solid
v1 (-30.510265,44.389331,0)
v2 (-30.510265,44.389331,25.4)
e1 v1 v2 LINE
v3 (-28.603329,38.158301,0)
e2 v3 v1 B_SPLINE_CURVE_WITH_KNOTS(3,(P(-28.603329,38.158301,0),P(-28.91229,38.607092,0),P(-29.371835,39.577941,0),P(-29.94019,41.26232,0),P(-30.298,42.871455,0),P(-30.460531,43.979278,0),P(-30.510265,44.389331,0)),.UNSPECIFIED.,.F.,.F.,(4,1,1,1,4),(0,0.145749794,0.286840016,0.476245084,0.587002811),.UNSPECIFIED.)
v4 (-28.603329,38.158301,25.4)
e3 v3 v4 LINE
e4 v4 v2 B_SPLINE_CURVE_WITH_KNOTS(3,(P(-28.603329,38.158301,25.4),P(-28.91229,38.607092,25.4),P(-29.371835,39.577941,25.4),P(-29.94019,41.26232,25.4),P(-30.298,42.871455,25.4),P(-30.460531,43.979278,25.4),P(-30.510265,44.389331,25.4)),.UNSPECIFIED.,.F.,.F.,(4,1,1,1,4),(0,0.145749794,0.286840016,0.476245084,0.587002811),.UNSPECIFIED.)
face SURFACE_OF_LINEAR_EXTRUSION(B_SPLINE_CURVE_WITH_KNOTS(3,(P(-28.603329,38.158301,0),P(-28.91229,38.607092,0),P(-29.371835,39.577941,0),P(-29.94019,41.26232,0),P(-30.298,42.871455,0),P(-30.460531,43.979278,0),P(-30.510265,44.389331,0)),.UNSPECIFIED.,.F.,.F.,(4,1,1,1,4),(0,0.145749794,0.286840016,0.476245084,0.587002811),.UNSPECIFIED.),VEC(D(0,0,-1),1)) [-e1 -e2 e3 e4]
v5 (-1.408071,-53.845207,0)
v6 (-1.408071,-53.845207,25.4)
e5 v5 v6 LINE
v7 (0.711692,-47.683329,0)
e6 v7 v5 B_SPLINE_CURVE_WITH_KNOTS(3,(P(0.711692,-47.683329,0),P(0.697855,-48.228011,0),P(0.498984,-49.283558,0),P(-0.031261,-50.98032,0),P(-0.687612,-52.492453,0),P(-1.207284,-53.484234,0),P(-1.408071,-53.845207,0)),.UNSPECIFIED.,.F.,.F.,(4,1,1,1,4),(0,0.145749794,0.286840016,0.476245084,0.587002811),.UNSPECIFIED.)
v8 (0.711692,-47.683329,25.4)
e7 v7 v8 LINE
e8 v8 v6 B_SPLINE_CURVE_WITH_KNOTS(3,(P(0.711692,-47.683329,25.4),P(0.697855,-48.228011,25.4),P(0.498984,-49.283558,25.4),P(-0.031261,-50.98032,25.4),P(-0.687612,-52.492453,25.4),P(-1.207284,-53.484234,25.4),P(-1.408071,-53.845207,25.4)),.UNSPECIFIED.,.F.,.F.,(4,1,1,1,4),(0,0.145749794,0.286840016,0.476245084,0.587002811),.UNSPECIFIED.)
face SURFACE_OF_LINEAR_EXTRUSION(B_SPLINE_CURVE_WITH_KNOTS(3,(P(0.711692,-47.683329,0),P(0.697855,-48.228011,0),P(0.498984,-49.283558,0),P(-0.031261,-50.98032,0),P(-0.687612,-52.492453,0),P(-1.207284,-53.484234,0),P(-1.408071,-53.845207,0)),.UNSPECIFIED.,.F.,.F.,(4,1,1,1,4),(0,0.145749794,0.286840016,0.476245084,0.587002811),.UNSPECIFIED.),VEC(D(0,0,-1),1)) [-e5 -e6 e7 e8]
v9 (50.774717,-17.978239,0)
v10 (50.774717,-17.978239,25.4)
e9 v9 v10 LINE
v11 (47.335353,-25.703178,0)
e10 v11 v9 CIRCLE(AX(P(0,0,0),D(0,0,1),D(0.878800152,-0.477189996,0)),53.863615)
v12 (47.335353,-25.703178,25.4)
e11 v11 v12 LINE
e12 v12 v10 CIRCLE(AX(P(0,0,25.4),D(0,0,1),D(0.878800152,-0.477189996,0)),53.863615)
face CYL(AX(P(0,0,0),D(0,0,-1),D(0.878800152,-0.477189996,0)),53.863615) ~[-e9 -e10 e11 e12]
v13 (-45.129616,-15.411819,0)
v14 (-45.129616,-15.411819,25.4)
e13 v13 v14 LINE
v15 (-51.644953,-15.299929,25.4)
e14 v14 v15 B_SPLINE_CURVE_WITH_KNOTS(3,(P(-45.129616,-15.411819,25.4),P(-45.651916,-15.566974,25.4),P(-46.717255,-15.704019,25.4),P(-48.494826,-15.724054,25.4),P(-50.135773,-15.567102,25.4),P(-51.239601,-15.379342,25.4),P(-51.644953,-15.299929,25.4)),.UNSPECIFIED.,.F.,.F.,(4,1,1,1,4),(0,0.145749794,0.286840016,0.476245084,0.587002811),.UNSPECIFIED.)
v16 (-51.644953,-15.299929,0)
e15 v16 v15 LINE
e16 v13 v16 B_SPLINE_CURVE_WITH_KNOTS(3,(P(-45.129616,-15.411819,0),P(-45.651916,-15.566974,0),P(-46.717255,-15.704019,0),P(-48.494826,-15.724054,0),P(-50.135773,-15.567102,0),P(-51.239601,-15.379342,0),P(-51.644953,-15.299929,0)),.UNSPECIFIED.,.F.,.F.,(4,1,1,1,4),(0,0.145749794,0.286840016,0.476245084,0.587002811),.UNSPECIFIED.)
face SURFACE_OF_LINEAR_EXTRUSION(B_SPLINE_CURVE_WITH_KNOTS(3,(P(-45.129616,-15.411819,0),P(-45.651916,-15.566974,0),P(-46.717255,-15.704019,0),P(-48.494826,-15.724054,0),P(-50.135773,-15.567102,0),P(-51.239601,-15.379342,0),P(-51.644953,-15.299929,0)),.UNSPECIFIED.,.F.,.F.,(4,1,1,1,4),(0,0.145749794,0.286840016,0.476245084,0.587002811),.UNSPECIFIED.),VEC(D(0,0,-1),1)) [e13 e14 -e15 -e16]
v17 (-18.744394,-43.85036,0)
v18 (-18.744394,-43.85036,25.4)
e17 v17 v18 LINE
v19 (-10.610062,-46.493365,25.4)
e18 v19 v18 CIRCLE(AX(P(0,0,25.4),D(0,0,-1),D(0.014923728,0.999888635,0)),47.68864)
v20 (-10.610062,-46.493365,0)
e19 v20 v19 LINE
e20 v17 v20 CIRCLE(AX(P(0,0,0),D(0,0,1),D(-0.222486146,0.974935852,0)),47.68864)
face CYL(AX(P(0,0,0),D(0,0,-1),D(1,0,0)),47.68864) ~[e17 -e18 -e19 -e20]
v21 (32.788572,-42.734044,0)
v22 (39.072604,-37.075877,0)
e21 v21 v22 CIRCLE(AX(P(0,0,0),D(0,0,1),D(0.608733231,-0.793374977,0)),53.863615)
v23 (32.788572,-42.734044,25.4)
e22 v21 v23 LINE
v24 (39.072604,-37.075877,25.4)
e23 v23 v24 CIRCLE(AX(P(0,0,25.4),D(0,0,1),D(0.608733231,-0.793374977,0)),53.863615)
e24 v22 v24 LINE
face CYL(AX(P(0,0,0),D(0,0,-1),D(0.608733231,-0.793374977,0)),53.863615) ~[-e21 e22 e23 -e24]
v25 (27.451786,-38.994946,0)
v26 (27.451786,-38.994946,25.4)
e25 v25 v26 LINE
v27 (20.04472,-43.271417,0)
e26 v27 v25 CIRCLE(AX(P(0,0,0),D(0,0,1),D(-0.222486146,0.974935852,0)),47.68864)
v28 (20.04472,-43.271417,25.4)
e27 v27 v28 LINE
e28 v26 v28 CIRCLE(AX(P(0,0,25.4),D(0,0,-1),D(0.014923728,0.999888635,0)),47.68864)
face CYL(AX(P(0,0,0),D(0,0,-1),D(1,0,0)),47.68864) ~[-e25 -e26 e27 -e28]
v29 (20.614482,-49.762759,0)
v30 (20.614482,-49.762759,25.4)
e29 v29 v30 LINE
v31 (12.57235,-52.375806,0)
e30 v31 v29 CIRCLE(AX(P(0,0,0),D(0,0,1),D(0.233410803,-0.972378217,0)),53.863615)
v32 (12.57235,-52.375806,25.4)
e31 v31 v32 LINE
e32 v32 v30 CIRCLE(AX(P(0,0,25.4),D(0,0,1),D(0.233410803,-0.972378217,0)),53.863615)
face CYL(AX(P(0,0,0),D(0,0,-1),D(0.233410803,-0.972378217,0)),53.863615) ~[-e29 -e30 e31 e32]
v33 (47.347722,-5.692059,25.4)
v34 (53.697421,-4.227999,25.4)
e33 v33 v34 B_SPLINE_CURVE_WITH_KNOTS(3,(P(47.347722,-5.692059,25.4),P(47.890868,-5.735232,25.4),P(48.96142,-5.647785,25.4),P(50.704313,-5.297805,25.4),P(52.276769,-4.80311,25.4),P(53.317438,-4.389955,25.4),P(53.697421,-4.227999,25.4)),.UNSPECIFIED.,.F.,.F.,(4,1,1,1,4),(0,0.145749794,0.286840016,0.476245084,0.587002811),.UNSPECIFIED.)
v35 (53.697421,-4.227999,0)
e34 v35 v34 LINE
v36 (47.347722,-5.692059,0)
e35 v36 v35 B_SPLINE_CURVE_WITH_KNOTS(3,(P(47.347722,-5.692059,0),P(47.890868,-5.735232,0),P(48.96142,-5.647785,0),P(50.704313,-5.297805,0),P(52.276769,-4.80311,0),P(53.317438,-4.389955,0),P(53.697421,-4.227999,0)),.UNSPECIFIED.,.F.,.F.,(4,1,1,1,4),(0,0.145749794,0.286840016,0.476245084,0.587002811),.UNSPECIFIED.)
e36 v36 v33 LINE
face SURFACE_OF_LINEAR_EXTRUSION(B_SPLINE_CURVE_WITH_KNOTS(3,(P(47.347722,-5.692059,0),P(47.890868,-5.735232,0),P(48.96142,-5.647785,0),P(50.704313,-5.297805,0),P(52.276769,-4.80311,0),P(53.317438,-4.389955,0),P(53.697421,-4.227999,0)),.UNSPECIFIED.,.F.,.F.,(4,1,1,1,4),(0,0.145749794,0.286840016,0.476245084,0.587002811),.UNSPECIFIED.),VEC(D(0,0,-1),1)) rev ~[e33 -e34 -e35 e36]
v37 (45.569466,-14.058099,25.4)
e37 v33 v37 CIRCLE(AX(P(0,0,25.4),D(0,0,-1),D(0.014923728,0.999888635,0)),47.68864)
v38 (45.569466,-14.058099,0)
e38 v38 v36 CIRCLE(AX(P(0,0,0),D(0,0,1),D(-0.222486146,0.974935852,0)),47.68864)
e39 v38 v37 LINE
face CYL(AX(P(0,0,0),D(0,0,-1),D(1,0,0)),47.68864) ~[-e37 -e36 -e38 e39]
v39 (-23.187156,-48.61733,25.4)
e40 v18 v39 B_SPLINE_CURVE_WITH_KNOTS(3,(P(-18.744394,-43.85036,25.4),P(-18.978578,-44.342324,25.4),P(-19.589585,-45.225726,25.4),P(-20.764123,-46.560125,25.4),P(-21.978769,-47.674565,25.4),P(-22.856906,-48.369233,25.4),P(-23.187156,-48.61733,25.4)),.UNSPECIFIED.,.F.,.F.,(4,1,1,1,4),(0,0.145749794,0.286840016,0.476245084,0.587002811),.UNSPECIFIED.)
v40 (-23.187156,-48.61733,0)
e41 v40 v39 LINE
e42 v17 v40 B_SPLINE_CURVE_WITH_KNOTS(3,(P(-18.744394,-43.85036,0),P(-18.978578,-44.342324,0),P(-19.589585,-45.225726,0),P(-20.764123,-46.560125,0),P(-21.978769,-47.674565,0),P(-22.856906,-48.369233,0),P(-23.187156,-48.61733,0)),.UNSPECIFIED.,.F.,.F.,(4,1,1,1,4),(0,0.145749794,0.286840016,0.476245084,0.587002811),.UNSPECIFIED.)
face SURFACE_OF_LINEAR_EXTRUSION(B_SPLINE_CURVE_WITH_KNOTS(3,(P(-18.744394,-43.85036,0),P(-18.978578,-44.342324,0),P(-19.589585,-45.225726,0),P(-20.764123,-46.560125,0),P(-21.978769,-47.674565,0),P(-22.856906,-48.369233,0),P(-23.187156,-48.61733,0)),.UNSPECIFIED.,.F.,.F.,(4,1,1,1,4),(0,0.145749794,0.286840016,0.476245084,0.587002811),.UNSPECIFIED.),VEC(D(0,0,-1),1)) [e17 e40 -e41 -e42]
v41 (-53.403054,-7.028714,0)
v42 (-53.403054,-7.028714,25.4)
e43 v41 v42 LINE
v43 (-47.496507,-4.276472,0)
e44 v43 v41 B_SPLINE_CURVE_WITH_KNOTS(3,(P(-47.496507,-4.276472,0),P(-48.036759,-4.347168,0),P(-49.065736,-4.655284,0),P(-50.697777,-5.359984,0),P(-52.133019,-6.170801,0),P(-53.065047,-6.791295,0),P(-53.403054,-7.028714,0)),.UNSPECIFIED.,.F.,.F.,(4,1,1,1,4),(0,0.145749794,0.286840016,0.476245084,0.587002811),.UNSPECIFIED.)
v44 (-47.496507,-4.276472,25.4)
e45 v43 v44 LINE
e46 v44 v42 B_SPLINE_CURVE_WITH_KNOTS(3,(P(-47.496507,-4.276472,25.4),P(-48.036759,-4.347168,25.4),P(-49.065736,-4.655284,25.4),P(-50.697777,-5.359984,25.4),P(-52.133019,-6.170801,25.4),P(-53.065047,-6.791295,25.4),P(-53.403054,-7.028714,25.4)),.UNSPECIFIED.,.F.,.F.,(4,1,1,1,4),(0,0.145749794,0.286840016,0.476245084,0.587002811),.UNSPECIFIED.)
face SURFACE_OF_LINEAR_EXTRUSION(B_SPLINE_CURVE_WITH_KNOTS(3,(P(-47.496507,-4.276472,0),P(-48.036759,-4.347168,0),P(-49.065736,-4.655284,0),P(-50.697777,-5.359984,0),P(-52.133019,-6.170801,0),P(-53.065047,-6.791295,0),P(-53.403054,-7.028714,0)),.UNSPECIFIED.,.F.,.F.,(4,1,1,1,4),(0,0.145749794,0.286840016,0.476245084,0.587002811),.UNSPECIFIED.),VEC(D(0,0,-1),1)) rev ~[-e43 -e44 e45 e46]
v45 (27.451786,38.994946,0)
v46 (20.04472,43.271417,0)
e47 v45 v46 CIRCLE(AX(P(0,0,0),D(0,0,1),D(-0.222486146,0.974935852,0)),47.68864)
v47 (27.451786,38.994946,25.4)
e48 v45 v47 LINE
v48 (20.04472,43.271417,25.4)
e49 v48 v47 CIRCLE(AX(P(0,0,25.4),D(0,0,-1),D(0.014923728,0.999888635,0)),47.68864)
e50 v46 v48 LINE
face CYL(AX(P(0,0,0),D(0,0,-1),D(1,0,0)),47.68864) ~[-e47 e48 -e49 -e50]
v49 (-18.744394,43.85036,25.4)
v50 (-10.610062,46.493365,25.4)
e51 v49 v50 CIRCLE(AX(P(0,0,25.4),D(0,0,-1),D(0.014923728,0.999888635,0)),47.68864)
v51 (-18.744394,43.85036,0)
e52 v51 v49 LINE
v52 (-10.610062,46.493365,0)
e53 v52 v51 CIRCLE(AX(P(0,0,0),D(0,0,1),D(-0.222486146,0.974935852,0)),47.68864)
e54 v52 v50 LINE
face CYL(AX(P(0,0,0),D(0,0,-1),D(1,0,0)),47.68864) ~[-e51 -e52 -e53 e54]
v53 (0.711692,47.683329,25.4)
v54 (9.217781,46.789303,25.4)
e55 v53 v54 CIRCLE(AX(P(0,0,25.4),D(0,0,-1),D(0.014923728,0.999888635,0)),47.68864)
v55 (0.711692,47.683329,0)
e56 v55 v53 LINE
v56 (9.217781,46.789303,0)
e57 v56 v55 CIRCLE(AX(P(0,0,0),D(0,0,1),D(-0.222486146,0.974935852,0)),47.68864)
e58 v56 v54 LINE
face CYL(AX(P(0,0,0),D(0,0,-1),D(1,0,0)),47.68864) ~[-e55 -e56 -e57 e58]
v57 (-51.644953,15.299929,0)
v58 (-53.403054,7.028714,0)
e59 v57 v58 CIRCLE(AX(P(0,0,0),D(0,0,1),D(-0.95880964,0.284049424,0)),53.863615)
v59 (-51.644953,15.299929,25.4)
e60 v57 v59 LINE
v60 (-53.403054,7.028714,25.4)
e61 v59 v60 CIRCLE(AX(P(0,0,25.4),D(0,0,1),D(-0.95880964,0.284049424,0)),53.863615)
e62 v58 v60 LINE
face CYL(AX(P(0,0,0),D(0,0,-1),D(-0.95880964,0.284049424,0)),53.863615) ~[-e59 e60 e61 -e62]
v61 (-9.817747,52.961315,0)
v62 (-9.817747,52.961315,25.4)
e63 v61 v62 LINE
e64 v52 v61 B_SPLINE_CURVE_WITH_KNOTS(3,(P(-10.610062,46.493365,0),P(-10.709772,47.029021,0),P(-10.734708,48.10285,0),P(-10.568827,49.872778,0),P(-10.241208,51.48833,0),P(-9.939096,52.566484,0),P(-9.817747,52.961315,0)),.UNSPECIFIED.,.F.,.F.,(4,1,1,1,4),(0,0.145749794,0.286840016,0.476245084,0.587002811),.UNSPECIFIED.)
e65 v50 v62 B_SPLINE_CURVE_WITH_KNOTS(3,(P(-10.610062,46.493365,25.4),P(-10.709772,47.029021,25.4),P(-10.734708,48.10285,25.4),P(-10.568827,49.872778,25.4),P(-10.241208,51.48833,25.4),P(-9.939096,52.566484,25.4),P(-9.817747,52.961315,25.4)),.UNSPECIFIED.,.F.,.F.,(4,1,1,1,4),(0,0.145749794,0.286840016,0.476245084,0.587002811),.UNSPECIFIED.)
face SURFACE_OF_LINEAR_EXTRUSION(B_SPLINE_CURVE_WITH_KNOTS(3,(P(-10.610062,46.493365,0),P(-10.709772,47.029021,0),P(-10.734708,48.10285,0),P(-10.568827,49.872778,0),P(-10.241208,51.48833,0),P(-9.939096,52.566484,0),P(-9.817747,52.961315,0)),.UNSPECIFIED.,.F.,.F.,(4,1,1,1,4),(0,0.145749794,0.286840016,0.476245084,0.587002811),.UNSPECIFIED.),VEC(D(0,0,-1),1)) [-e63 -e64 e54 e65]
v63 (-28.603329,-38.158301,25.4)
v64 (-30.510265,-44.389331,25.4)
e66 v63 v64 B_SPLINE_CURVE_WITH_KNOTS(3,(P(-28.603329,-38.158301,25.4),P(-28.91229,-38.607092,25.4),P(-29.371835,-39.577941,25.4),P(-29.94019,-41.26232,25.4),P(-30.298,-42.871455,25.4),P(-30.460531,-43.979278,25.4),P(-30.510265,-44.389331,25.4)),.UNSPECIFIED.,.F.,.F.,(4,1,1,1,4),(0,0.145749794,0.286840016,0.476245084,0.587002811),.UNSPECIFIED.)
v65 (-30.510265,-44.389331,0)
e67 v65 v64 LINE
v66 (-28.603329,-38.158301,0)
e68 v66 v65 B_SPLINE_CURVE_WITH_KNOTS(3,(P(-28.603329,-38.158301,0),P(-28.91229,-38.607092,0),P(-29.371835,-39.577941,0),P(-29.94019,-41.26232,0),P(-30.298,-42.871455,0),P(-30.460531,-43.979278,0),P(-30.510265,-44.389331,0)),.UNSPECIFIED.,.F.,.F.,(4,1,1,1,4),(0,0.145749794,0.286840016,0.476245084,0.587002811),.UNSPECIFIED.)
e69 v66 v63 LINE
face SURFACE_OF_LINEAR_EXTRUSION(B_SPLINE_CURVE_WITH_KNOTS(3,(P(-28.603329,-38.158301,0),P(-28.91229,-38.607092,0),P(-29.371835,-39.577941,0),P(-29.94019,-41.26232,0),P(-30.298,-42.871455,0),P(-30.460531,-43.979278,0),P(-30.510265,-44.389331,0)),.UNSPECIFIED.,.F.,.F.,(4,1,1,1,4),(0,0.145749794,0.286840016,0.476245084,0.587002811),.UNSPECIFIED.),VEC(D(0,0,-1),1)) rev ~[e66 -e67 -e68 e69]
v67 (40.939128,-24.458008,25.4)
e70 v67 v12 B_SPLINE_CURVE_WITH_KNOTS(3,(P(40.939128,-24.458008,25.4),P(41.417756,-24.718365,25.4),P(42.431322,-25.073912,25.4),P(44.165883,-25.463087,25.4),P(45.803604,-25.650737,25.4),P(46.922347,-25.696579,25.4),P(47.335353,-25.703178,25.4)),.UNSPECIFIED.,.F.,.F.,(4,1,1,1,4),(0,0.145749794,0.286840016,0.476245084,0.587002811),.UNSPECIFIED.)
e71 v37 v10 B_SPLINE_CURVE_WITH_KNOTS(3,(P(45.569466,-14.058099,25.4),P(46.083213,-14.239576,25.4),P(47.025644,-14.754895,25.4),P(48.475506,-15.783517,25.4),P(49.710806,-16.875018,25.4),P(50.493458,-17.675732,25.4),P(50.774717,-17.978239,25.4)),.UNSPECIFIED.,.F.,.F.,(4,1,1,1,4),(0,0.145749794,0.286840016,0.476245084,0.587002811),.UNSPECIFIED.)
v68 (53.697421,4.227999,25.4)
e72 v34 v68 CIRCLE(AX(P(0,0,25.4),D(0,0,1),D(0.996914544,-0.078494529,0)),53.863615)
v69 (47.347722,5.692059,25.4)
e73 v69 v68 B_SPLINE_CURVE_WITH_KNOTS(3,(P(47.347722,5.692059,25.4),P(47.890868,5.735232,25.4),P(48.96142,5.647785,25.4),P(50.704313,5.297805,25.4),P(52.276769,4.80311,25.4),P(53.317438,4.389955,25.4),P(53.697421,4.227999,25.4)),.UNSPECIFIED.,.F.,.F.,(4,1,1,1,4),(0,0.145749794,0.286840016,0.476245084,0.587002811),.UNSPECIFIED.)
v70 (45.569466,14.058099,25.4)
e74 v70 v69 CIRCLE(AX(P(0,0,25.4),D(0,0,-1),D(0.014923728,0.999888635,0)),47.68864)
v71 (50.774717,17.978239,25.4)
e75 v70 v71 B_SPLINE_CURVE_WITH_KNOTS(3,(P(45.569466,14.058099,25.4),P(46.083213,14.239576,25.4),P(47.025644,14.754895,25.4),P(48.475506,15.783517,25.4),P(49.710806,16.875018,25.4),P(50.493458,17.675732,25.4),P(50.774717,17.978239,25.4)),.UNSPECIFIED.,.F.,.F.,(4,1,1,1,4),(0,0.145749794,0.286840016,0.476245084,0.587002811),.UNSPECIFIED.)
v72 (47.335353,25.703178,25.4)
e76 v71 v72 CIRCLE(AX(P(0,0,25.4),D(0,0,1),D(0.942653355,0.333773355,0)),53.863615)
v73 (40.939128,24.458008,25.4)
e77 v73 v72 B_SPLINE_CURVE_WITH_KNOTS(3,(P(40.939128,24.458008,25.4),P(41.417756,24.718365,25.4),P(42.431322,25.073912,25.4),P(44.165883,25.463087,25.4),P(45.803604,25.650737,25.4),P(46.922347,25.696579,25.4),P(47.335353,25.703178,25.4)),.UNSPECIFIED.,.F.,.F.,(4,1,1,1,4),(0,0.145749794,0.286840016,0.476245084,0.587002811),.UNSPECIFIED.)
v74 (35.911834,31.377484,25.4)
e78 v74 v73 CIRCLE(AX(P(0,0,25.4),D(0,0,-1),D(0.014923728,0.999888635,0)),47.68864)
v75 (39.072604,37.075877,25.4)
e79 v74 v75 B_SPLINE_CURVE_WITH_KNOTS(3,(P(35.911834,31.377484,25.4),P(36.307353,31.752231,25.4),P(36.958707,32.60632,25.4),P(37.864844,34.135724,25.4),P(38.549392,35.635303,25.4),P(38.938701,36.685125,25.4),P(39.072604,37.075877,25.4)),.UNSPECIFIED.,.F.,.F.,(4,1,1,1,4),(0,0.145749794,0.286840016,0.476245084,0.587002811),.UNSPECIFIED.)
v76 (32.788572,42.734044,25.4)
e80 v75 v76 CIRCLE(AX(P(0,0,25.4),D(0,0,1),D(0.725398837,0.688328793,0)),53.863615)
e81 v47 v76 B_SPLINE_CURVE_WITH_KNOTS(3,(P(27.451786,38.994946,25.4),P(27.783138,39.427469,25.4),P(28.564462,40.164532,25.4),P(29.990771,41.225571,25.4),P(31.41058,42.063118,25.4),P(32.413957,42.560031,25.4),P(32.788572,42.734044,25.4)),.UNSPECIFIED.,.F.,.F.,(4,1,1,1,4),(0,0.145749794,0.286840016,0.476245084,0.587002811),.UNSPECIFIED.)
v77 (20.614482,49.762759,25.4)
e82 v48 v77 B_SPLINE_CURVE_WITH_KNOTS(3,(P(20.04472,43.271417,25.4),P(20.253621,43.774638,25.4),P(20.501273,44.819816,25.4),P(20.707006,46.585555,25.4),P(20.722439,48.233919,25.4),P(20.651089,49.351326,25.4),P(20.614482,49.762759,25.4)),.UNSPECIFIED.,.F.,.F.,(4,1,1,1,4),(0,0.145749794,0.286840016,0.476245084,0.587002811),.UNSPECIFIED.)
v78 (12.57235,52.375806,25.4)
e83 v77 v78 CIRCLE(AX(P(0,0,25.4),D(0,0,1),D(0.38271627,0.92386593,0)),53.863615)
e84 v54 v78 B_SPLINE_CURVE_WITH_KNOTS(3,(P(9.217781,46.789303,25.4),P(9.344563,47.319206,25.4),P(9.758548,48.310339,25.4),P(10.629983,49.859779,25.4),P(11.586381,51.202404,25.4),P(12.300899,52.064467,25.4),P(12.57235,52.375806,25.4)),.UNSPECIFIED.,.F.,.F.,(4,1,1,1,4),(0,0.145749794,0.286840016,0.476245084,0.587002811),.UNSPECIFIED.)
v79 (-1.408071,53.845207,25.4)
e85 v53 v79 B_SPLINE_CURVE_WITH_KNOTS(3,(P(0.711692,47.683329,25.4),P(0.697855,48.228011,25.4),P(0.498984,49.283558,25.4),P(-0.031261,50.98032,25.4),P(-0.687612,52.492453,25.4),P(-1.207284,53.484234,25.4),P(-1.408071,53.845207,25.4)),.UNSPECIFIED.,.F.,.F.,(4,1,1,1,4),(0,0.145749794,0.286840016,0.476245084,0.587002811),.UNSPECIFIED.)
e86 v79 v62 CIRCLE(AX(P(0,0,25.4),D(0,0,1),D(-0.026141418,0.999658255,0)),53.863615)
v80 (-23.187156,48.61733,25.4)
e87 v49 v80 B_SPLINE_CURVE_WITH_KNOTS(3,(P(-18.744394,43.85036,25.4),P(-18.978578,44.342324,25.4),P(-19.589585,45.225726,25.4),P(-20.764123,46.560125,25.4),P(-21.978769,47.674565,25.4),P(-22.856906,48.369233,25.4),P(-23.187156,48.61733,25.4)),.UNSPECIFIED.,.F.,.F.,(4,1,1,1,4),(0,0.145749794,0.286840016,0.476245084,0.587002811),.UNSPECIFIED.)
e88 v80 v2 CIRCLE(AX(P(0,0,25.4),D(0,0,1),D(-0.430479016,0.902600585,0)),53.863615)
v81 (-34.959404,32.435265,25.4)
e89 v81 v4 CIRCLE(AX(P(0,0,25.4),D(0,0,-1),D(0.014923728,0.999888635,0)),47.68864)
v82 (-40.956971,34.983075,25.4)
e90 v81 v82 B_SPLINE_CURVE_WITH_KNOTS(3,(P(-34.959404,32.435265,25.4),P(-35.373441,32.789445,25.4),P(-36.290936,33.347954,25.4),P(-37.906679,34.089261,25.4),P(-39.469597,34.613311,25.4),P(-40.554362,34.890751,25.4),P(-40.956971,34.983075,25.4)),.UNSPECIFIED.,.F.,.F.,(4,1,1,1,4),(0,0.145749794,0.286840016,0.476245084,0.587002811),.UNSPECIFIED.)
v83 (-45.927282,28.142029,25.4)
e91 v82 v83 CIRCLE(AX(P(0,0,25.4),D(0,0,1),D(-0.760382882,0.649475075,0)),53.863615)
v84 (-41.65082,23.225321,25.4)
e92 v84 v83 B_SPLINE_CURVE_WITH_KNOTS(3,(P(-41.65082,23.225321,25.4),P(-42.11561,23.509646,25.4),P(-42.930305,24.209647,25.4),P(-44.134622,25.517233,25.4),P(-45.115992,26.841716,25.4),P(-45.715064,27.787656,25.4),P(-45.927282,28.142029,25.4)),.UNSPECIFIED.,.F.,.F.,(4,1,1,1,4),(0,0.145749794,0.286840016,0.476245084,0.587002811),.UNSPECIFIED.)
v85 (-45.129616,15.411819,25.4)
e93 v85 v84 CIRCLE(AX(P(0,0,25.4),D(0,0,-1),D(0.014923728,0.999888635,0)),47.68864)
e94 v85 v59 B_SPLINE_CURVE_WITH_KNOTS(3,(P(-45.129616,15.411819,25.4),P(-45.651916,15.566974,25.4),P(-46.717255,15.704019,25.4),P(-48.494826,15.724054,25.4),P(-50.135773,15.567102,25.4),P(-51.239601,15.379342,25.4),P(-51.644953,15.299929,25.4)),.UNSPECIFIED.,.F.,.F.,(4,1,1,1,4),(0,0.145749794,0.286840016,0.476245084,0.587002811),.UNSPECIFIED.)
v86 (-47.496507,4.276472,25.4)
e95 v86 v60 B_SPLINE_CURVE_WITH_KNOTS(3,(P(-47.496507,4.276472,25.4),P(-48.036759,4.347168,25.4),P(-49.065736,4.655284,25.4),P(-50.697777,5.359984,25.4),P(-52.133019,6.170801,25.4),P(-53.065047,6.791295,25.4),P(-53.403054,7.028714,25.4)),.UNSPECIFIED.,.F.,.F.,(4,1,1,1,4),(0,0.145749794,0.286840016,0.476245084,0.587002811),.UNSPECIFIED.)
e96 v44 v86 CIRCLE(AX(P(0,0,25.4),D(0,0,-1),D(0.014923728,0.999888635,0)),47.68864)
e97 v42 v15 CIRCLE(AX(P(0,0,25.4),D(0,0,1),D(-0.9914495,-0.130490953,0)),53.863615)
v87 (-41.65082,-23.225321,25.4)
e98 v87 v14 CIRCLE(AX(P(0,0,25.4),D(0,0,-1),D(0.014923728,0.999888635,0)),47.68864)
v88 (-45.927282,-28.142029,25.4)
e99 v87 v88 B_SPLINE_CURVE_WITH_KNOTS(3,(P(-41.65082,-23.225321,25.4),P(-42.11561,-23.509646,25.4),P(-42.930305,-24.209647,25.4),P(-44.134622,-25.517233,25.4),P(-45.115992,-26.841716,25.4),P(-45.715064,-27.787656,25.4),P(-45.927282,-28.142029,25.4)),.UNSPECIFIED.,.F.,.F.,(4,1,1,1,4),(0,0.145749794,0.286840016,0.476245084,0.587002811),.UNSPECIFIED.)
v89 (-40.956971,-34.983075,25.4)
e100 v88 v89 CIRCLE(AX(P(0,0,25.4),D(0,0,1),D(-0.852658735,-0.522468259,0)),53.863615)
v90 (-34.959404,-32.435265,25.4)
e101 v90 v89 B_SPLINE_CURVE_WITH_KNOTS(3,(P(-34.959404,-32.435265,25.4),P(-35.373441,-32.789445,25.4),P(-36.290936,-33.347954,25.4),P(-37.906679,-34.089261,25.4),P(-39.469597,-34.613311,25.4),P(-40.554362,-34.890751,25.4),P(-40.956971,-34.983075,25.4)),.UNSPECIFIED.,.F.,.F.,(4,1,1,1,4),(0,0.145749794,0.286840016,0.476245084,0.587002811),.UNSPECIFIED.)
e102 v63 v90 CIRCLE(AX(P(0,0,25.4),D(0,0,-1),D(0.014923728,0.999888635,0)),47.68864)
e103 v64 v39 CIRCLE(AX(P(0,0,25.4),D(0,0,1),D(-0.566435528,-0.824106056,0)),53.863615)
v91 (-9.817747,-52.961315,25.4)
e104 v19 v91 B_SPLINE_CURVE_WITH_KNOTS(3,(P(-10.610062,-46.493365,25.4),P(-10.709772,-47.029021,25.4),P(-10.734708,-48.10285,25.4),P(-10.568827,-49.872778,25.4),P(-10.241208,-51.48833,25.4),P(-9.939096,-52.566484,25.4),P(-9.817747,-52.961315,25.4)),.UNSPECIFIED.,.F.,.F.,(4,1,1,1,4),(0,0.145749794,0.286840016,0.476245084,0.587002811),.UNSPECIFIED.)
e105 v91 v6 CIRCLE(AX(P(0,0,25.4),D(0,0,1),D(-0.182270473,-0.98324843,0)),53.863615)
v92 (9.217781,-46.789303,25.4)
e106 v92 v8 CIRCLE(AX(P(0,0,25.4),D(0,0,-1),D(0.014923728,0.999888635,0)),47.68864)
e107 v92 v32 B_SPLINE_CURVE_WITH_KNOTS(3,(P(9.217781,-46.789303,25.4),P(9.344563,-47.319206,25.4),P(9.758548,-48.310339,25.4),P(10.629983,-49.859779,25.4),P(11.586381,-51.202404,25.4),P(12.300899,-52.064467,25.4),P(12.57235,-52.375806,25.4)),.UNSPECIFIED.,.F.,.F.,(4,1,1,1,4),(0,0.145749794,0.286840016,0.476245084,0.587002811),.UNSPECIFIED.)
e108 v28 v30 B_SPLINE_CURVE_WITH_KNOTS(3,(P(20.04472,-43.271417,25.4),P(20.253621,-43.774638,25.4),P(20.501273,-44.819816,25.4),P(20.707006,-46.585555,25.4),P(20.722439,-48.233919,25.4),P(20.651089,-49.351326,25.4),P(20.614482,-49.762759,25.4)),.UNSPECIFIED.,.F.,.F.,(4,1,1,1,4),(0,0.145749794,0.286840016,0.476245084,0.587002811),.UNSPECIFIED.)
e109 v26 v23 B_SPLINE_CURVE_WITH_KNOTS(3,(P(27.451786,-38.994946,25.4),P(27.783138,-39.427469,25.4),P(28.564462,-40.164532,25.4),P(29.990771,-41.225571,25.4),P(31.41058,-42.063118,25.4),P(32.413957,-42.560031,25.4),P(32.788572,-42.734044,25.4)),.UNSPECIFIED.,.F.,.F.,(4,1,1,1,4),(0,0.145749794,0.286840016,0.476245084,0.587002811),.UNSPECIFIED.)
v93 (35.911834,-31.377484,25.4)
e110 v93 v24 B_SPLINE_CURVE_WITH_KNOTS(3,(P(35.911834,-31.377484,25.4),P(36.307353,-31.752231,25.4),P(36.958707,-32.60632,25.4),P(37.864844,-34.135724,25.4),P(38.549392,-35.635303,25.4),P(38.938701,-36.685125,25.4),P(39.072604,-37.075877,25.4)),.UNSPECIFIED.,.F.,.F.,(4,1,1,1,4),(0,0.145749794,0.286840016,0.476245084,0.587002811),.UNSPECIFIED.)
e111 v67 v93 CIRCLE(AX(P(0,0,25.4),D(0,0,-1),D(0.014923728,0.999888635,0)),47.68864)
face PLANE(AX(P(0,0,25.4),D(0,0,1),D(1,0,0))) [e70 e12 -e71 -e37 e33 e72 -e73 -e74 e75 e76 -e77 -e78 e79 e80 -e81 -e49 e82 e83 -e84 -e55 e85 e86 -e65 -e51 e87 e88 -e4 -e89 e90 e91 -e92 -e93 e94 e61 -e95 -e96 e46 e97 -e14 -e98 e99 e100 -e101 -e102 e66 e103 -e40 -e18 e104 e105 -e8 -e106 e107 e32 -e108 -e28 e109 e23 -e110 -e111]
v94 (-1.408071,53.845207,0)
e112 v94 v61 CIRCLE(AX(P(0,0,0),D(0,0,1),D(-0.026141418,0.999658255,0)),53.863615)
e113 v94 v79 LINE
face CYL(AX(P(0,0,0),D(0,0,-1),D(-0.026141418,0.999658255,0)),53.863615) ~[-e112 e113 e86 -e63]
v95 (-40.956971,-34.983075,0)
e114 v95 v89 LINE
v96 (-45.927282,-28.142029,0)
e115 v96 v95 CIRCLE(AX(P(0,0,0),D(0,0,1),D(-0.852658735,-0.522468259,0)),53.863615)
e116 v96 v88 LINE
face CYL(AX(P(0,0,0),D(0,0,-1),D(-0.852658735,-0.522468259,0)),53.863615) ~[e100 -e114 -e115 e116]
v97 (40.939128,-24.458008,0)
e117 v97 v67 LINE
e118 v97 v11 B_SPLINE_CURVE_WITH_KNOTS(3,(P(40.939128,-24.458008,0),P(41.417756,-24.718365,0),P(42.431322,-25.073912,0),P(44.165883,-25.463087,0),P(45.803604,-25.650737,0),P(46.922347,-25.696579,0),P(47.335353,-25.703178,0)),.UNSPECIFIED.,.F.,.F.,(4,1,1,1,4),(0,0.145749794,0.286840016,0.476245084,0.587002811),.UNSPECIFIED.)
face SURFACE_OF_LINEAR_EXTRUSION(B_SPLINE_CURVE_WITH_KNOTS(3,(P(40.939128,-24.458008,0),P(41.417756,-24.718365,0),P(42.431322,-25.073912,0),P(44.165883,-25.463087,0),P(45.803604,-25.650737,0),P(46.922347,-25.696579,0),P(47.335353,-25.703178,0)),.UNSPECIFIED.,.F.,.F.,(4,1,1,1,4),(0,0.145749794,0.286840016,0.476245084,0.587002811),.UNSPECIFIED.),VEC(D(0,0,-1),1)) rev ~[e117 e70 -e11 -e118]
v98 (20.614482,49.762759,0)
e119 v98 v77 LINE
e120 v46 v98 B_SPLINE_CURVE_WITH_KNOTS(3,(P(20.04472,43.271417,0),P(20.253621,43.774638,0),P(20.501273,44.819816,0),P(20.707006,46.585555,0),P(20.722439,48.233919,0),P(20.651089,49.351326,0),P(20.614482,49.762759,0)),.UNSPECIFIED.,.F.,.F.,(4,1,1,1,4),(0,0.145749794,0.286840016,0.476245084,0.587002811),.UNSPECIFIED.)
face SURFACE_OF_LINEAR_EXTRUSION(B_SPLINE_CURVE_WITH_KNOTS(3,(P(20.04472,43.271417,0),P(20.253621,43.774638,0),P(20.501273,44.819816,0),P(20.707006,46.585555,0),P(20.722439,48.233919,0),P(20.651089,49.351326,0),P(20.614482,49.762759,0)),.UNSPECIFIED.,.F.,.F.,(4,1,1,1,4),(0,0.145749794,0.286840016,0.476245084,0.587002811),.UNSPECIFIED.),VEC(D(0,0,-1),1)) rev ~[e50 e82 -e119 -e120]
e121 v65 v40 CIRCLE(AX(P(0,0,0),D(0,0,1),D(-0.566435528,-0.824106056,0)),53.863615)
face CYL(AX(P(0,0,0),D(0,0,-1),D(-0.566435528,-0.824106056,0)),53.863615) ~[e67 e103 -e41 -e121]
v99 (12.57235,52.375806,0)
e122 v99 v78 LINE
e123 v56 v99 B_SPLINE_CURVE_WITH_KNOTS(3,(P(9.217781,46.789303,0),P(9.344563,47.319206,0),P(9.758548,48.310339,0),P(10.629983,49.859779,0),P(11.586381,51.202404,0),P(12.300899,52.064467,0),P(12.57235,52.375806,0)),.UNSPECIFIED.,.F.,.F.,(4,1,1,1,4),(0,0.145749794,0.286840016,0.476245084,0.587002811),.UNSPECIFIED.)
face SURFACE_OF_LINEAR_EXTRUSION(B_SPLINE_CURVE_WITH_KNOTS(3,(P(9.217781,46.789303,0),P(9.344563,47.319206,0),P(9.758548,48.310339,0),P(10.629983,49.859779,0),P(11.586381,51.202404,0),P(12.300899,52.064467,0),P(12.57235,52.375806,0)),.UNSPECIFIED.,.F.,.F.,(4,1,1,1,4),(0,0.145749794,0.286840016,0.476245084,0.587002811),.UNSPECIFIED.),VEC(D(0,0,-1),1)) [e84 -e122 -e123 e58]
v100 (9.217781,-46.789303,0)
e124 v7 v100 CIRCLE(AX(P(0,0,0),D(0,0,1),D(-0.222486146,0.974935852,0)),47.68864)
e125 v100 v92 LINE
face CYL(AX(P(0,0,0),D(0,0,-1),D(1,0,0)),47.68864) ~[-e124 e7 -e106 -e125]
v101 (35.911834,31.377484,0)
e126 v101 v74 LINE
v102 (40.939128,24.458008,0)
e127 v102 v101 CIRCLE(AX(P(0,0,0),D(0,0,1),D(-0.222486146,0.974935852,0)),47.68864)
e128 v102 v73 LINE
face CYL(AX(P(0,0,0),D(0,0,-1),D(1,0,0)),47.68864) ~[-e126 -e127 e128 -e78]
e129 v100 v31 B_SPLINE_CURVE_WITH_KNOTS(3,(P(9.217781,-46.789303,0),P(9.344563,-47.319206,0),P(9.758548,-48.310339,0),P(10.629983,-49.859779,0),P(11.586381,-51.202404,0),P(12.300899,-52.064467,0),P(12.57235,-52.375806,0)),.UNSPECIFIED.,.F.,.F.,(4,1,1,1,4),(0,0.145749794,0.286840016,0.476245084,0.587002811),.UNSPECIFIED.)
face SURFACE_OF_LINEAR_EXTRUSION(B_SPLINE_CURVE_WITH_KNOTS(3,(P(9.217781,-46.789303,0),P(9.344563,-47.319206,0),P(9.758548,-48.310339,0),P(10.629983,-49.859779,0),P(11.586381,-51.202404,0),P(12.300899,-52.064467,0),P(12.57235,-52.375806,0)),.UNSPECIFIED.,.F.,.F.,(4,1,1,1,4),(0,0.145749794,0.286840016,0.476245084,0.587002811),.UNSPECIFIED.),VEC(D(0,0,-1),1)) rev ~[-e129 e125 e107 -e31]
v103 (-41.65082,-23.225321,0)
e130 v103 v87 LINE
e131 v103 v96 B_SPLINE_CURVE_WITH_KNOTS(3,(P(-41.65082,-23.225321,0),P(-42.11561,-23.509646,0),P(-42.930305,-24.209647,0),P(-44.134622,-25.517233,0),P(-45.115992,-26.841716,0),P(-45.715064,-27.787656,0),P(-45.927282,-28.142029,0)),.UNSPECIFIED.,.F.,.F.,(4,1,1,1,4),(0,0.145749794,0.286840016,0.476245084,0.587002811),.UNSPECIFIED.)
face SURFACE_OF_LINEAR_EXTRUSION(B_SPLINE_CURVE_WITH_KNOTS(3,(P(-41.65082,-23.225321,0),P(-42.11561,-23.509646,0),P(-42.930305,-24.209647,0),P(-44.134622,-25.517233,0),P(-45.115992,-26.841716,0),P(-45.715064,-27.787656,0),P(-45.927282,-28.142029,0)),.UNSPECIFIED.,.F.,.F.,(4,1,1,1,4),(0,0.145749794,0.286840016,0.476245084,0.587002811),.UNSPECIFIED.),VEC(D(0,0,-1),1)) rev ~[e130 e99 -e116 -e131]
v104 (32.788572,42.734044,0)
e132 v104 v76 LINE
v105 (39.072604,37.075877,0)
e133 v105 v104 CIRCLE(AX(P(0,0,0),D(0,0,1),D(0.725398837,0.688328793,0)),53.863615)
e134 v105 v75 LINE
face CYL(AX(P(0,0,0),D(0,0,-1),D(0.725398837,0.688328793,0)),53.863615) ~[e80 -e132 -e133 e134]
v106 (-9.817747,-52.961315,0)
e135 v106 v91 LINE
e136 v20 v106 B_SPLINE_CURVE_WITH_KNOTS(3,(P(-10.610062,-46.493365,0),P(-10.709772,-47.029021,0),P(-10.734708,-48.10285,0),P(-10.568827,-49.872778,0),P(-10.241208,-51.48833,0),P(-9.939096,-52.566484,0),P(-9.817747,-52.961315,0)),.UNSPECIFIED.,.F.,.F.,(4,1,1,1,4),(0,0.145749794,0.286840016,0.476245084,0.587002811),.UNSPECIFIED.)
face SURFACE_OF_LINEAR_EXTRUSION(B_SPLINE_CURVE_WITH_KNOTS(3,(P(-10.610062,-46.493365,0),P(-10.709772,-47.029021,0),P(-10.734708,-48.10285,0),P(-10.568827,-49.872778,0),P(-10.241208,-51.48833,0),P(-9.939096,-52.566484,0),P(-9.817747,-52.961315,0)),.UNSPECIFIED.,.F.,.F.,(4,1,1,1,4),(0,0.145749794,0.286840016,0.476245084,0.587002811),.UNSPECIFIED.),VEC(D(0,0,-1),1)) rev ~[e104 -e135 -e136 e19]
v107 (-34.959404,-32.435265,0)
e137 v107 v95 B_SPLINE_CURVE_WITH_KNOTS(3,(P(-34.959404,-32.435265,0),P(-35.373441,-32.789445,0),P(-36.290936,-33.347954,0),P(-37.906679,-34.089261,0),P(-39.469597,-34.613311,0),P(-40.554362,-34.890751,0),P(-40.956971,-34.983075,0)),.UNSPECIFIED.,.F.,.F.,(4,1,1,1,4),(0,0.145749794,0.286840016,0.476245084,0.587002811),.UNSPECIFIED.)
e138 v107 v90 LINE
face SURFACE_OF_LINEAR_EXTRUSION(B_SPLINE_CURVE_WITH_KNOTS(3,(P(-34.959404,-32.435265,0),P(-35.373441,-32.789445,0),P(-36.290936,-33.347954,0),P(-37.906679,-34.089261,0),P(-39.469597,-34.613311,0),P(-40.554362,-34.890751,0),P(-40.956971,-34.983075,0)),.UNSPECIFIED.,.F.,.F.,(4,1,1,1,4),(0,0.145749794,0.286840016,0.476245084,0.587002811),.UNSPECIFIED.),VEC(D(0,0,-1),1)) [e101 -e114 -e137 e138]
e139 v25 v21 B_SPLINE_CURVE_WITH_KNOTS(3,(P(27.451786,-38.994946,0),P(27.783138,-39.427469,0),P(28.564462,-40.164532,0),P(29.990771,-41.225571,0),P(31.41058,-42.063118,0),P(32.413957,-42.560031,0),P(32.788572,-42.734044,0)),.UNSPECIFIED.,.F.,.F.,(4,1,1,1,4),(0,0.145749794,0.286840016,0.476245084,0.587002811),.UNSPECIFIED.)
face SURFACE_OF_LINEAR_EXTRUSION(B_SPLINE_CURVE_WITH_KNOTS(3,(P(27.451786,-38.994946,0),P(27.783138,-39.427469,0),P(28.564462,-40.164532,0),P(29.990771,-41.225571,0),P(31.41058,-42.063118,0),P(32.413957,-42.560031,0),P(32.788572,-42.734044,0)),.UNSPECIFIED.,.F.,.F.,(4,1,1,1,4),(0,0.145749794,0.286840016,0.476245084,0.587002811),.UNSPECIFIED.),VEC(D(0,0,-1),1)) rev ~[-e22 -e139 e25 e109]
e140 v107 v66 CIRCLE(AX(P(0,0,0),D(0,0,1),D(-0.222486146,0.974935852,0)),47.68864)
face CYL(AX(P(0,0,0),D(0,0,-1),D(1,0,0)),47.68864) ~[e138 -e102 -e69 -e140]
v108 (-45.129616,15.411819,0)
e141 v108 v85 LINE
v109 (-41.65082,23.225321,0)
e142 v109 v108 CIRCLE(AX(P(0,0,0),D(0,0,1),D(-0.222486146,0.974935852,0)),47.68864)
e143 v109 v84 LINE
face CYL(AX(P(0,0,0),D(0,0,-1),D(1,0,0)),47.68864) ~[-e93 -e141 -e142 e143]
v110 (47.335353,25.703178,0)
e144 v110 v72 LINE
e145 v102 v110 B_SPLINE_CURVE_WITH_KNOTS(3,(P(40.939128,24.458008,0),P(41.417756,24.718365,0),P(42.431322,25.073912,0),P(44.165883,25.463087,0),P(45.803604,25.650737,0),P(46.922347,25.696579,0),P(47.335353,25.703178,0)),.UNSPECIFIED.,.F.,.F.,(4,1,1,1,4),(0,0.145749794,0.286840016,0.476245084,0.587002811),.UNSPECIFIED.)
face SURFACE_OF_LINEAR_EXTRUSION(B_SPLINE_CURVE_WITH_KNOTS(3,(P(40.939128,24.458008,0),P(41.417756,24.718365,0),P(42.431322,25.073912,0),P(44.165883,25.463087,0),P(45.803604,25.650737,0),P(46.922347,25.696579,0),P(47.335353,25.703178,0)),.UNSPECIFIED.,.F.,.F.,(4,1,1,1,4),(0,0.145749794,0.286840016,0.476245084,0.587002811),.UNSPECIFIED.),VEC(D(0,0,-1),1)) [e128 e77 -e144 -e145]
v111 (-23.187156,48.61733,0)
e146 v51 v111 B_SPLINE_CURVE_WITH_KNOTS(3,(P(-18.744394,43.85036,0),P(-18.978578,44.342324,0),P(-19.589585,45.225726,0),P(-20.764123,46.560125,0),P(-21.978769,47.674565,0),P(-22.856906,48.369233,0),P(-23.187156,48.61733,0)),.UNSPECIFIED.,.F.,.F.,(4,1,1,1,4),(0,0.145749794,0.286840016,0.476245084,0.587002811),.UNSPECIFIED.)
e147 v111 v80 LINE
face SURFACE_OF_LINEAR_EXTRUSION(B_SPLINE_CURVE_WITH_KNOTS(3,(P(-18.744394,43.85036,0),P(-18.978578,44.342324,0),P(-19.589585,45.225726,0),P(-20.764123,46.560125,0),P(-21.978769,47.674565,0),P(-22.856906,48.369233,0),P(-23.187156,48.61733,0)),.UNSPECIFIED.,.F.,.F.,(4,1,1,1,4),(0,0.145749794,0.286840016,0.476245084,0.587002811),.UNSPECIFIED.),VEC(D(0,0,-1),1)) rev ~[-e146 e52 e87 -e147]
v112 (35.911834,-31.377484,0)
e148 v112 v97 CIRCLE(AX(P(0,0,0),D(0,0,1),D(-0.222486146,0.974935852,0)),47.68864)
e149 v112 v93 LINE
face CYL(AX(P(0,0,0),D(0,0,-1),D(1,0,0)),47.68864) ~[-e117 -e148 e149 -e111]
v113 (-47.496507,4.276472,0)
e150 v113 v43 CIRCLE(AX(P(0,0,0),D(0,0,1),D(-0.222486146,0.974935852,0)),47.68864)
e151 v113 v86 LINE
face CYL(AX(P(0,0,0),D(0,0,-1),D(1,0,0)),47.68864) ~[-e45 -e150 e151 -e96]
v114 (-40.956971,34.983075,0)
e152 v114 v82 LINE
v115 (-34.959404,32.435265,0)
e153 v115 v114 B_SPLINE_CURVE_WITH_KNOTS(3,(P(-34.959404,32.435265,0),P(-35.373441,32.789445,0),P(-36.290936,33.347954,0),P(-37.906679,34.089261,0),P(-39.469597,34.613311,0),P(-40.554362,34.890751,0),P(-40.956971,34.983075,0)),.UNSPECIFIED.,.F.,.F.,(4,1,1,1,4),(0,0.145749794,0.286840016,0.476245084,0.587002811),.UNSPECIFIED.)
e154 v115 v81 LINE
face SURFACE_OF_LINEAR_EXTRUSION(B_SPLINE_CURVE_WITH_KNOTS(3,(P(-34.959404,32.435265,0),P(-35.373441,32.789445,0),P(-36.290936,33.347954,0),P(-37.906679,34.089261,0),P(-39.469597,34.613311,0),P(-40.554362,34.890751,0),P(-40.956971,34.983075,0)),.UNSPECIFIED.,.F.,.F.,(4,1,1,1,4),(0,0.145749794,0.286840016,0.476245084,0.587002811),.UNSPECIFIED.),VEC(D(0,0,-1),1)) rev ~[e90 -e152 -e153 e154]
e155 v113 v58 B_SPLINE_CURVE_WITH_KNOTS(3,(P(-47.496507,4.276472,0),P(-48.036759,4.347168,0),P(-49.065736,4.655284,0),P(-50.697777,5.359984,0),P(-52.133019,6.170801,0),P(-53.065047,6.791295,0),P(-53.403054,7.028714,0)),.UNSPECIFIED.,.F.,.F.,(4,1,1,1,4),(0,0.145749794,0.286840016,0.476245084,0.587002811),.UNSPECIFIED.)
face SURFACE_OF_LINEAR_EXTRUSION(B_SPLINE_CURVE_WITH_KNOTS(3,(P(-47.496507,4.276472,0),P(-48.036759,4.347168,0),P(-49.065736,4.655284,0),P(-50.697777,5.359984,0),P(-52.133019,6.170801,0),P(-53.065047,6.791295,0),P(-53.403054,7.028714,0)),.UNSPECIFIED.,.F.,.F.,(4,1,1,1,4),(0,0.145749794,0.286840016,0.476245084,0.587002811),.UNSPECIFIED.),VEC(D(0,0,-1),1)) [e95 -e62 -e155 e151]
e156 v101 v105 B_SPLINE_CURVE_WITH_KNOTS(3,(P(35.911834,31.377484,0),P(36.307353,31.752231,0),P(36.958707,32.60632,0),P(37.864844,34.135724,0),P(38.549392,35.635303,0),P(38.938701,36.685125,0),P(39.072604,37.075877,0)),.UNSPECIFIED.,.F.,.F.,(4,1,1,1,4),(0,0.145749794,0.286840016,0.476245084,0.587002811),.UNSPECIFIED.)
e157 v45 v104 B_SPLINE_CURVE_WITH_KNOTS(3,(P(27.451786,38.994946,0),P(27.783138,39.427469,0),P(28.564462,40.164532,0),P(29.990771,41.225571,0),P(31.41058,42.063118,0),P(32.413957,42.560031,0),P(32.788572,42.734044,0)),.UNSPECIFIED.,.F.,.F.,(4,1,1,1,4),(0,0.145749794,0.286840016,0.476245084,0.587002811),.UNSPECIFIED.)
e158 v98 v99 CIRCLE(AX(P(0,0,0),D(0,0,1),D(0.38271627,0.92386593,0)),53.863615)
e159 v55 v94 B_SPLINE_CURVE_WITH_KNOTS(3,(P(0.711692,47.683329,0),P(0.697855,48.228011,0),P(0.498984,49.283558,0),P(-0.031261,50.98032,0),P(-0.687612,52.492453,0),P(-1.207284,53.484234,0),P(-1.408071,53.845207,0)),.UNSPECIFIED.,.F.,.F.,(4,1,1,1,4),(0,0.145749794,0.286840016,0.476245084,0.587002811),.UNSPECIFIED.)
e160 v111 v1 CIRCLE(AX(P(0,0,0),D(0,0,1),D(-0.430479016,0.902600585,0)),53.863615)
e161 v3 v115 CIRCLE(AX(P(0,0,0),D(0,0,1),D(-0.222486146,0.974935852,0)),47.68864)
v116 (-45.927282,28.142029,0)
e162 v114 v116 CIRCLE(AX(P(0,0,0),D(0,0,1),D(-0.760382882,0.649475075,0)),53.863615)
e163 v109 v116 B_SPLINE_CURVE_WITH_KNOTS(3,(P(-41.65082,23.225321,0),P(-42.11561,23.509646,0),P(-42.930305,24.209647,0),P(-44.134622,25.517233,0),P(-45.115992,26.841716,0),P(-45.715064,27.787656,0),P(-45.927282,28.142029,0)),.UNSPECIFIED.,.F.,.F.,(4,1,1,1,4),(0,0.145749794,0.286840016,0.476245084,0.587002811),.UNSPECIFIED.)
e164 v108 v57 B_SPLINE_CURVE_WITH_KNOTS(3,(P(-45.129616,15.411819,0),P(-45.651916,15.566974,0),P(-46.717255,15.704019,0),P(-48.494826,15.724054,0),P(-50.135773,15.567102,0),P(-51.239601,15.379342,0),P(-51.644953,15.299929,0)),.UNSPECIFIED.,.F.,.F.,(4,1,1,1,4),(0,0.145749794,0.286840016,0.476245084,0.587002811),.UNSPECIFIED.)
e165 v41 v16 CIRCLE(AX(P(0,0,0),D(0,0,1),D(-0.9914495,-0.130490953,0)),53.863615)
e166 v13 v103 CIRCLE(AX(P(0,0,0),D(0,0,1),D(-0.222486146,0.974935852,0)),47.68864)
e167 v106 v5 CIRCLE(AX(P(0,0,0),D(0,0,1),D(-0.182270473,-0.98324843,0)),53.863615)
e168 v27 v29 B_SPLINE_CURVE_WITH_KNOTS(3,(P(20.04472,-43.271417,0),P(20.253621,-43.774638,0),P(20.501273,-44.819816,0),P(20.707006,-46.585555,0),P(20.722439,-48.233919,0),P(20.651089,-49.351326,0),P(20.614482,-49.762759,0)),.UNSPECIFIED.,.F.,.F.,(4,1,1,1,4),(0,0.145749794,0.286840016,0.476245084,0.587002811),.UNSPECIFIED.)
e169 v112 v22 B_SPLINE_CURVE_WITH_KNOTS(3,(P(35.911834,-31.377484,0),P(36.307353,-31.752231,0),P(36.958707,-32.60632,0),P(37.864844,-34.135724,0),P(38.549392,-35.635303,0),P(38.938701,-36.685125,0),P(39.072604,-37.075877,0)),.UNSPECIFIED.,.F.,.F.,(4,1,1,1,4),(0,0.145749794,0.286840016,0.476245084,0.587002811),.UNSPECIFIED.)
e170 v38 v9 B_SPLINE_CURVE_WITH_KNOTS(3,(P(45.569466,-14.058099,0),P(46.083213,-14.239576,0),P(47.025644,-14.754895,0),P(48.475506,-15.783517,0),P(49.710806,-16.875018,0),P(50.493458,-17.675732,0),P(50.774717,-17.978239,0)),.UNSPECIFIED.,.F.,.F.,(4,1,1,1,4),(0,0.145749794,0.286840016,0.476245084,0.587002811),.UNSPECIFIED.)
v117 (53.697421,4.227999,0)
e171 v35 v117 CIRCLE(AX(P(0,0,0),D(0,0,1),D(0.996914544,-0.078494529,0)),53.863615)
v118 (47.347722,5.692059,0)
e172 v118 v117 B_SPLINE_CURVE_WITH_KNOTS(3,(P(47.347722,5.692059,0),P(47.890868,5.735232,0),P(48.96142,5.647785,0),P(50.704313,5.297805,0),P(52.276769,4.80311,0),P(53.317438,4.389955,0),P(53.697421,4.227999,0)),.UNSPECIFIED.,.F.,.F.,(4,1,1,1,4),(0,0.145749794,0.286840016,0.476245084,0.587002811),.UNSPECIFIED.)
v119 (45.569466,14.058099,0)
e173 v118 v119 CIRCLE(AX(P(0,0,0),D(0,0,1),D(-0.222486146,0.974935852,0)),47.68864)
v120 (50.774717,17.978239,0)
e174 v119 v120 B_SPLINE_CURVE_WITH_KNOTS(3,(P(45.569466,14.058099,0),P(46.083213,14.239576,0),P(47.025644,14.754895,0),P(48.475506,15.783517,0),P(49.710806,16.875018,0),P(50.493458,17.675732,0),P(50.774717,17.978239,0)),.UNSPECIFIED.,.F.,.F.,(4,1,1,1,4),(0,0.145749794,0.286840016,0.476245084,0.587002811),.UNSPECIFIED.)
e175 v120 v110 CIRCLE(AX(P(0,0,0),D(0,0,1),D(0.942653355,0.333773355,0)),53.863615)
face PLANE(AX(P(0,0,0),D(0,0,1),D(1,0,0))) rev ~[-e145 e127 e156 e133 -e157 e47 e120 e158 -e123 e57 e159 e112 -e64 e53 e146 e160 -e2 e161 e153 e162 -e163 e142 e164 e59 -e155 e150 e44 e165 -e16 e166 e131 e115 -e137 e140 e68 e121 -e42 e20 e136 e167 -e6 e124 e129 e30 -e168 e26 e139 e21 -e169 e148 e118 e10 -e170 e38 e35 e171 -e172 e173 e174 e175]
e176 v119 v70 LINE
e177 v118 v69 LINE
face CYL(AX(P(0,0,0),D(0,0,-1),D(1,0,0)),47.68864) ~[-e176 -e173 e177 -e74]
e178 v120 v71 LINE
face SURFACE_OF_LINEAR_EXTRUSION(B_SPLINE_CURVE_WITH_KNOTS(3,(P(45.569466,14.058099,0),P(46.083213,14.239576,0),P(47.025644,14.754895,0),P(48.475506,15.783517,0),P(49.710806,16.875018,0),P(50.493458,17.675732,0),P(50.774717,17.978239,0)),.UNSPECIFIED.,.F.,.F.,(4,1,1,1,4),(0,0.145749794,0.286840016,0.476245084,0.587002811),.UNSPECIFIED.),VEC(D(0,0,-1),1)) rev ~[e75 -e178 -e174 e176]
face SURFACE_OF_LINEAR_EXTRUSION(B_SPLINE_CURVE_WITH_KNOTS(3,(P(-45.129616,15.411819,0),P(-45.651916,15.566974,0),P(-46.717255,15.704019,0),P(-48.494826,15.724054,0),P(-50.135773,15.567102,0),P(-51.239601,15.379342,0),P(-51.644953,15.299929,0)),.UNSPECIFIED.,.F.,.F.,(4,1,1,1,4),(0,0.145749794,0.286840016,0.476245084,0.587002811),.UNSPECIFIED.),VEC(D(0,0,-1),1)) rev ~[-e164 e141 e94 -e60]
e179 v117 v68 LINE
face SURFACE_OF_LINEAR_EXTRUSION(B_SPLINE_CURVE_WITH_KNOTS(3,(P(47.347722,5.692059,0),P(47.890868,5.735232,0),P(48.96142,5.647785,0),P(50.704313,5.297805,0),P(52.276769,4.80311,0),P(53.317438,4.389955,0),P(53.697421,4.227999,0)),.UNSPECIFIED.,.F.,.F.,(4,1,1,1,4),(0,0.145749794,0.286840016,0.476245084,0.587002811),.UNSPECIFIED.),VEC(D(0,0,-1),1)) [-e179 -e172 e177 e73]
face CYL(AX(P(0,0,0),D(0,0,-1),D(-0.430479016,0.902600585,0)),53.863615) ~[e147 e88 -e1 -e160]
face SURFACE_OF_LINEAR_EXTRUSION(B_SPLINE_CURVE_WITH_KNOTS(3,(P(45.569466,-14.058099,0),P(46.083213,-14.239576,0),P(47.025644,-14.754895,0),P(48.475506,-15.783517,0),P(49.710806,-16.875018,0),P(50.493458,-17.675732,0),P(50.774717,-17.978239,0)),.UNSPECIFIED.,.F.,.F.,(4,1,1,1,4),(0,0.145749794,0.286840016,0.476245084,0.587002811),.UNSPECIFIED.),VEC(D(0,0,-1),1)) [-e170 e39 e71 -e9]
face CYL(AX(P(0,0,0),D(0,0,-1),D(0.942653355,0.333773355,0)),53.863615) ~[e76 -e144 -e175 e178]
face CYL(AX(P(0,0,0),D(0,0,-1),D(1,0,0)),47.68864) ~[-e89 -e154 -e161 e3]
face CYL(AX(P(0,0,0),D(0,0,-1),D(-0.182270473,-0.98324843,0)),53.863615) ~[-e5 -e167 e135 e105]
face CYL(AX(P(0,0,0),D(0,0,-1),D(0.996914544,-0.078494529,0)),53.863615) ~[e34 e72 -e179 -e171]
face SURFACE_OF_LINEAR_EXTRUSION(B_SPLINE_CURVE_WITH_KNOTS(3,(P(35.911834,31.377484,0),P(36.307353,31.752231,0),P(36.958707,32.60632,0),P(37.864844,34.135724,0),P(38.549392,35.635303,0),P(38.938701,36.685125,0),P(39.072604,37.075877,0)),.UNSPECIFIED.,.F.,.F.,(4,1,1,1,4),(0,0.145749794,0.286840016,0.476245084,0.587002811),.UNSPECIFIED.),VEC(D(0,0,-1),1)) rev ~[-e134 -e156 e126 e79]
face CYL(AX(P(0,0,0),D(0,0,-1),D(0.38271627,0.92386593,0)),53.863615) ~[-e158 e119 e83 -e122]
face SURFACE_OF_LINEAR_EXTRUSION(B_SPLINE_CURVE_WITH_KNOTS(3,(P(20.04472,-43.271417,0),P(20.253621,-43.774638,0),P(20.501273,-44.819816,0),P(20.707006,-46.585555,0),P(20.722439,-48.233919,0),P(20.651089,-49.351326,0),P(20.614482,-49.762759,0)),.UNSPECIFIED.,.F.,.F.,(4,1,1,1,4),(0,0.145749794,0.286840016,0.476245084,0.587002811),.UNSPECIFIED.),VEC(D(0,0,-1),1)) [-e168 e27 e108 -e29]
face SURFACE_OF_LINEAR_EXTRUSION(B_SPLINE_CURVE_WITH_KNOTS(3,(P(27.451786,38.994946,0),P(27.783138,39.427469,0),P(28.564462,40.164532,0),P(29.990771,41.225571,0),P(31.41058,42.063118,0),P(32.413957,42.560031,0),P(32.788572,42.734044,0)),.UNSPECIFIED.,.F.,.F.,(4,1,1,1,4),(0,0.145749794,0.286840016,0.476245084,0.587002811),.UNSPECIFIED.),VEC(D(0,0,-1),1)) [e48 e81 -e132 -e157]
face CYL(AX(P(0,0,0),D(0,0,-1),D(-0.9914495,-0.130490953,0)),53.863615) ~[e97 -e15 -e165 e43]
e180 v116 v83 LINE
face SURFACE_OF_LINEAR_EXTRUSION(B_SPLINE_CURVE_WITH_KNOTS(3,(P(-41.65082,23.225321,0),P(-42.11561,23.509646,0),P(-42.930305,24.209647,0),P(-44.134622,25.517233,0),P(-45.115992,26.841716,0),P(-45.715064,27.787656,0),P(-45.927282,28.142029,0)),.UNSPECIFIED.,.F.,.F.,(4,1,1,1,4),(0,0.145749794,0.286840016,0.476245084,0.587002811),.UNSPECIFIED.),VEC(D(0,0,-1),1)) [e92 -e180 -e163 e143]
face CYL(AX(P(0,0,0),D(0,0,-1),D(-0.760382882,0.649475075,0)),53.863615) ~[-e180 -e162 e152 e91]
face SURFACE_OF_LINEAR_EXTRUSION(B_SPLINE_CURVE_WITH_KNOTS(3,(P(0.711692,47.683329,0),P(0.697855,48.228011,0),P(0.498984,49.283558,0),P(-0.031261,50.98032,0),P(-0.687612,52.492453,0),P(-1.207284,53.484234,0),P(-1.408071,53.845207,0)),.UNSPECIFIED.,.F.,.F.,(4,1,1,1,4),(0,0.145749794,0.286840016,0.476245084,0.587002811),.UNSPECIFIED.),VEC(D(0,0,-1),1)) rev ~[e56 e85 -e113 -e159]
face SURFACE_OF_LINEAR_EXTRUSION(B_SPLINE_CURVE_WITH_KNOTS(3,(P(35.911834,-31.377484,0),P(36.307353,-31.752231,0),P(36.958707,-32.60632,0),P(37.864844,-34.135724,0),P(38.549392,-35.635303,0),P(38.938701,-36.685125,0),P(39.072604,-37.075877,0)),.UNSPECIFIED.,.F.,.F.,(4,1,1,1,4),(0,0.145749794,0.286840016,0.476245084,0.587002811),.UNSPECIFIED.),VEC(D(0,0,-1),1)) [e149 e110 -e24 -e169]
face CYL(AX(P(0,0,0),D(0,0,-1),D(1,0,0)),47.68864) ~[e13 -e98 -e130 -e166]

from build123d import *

# Parameters (mm, degrees)
SKETCH6_R           = 47.688639705
BOSS_EXTRUDE3_DEPTH = 25.4
BOSS_EXTRUDE4_DEPTH = 25.4
CIRPATTERN1_COUNT   = 15


with BuildPart() as part:
    # Sketch6 → Boss-Extrude3 (new body)
    with BuildSketch(Plane.XY):
        Circle(SKETCH6_R)
    extrude(amount=BOSS_EXTRUDE3_DEPTH)

    # Sketch5 → Boss-Extrude4 (add)
    with BuildSketch(Plane.XY):
        with BuildLine():
            ThreePointArc((-1.408071238, 53.84520723), (-5.630280888, 53.568544346), (-9.817746575, 52.961314735))
            add(Edge.make_bspline(
                [(-10.610061638, 46.493364569), (-10.709772142, 47.029021497), (-10.734707714, 48.102849794), (-10.568826593, 49.872777698), (-10.241208192, 51.488329618), (-9.939095864, 52.566483824), (-9.817746575, 52.961314735)],
                knots=[0, 0, 0, 0, 0.145749794, 0.286840016, 0.476245084, 0.587002811, 0.587002811, 0.587002811, 0.587002811], degree=3))
            ThreePointArc((-10.610061638, 46.493364569), (-4.984820224, 47.427396347), (0.711692296, 47.683328858))
            add(Edge.make_bspline(
                [(0.711692296, 47.683328858), (0.697854548, 48.228011376), (0.498983761, 49.283558346), (-0.031261162, 50.980320455), (-0.687612447, 52.492452993), (-1.207283759, 53.484234257), (-1.408071238, 53.84520723)],
                knots=[0, 0, 0, 0, 0.145749794, 0.286840016, 0.476245084, 0.587002811, 0.587002811, 0.587002811, 0.587002811], degree=3))
        make_face()
    boss_extrude4 = extrude(amount=BOSS_EXTRUDE4_DEPTH)

    # CirPattern1: Boss-Extrude4 ×15 about axis
    cirpattern1_axis = Axis((0, 0, 25.4), (0, 0, 1))
    for i in range(1, CIRPATTERN1_COUNT):
        add(boss_extrude4.rotate(cirpattern1_axis, i * 360 / CIRPATTERN1_COUNT))


solid = part.part
